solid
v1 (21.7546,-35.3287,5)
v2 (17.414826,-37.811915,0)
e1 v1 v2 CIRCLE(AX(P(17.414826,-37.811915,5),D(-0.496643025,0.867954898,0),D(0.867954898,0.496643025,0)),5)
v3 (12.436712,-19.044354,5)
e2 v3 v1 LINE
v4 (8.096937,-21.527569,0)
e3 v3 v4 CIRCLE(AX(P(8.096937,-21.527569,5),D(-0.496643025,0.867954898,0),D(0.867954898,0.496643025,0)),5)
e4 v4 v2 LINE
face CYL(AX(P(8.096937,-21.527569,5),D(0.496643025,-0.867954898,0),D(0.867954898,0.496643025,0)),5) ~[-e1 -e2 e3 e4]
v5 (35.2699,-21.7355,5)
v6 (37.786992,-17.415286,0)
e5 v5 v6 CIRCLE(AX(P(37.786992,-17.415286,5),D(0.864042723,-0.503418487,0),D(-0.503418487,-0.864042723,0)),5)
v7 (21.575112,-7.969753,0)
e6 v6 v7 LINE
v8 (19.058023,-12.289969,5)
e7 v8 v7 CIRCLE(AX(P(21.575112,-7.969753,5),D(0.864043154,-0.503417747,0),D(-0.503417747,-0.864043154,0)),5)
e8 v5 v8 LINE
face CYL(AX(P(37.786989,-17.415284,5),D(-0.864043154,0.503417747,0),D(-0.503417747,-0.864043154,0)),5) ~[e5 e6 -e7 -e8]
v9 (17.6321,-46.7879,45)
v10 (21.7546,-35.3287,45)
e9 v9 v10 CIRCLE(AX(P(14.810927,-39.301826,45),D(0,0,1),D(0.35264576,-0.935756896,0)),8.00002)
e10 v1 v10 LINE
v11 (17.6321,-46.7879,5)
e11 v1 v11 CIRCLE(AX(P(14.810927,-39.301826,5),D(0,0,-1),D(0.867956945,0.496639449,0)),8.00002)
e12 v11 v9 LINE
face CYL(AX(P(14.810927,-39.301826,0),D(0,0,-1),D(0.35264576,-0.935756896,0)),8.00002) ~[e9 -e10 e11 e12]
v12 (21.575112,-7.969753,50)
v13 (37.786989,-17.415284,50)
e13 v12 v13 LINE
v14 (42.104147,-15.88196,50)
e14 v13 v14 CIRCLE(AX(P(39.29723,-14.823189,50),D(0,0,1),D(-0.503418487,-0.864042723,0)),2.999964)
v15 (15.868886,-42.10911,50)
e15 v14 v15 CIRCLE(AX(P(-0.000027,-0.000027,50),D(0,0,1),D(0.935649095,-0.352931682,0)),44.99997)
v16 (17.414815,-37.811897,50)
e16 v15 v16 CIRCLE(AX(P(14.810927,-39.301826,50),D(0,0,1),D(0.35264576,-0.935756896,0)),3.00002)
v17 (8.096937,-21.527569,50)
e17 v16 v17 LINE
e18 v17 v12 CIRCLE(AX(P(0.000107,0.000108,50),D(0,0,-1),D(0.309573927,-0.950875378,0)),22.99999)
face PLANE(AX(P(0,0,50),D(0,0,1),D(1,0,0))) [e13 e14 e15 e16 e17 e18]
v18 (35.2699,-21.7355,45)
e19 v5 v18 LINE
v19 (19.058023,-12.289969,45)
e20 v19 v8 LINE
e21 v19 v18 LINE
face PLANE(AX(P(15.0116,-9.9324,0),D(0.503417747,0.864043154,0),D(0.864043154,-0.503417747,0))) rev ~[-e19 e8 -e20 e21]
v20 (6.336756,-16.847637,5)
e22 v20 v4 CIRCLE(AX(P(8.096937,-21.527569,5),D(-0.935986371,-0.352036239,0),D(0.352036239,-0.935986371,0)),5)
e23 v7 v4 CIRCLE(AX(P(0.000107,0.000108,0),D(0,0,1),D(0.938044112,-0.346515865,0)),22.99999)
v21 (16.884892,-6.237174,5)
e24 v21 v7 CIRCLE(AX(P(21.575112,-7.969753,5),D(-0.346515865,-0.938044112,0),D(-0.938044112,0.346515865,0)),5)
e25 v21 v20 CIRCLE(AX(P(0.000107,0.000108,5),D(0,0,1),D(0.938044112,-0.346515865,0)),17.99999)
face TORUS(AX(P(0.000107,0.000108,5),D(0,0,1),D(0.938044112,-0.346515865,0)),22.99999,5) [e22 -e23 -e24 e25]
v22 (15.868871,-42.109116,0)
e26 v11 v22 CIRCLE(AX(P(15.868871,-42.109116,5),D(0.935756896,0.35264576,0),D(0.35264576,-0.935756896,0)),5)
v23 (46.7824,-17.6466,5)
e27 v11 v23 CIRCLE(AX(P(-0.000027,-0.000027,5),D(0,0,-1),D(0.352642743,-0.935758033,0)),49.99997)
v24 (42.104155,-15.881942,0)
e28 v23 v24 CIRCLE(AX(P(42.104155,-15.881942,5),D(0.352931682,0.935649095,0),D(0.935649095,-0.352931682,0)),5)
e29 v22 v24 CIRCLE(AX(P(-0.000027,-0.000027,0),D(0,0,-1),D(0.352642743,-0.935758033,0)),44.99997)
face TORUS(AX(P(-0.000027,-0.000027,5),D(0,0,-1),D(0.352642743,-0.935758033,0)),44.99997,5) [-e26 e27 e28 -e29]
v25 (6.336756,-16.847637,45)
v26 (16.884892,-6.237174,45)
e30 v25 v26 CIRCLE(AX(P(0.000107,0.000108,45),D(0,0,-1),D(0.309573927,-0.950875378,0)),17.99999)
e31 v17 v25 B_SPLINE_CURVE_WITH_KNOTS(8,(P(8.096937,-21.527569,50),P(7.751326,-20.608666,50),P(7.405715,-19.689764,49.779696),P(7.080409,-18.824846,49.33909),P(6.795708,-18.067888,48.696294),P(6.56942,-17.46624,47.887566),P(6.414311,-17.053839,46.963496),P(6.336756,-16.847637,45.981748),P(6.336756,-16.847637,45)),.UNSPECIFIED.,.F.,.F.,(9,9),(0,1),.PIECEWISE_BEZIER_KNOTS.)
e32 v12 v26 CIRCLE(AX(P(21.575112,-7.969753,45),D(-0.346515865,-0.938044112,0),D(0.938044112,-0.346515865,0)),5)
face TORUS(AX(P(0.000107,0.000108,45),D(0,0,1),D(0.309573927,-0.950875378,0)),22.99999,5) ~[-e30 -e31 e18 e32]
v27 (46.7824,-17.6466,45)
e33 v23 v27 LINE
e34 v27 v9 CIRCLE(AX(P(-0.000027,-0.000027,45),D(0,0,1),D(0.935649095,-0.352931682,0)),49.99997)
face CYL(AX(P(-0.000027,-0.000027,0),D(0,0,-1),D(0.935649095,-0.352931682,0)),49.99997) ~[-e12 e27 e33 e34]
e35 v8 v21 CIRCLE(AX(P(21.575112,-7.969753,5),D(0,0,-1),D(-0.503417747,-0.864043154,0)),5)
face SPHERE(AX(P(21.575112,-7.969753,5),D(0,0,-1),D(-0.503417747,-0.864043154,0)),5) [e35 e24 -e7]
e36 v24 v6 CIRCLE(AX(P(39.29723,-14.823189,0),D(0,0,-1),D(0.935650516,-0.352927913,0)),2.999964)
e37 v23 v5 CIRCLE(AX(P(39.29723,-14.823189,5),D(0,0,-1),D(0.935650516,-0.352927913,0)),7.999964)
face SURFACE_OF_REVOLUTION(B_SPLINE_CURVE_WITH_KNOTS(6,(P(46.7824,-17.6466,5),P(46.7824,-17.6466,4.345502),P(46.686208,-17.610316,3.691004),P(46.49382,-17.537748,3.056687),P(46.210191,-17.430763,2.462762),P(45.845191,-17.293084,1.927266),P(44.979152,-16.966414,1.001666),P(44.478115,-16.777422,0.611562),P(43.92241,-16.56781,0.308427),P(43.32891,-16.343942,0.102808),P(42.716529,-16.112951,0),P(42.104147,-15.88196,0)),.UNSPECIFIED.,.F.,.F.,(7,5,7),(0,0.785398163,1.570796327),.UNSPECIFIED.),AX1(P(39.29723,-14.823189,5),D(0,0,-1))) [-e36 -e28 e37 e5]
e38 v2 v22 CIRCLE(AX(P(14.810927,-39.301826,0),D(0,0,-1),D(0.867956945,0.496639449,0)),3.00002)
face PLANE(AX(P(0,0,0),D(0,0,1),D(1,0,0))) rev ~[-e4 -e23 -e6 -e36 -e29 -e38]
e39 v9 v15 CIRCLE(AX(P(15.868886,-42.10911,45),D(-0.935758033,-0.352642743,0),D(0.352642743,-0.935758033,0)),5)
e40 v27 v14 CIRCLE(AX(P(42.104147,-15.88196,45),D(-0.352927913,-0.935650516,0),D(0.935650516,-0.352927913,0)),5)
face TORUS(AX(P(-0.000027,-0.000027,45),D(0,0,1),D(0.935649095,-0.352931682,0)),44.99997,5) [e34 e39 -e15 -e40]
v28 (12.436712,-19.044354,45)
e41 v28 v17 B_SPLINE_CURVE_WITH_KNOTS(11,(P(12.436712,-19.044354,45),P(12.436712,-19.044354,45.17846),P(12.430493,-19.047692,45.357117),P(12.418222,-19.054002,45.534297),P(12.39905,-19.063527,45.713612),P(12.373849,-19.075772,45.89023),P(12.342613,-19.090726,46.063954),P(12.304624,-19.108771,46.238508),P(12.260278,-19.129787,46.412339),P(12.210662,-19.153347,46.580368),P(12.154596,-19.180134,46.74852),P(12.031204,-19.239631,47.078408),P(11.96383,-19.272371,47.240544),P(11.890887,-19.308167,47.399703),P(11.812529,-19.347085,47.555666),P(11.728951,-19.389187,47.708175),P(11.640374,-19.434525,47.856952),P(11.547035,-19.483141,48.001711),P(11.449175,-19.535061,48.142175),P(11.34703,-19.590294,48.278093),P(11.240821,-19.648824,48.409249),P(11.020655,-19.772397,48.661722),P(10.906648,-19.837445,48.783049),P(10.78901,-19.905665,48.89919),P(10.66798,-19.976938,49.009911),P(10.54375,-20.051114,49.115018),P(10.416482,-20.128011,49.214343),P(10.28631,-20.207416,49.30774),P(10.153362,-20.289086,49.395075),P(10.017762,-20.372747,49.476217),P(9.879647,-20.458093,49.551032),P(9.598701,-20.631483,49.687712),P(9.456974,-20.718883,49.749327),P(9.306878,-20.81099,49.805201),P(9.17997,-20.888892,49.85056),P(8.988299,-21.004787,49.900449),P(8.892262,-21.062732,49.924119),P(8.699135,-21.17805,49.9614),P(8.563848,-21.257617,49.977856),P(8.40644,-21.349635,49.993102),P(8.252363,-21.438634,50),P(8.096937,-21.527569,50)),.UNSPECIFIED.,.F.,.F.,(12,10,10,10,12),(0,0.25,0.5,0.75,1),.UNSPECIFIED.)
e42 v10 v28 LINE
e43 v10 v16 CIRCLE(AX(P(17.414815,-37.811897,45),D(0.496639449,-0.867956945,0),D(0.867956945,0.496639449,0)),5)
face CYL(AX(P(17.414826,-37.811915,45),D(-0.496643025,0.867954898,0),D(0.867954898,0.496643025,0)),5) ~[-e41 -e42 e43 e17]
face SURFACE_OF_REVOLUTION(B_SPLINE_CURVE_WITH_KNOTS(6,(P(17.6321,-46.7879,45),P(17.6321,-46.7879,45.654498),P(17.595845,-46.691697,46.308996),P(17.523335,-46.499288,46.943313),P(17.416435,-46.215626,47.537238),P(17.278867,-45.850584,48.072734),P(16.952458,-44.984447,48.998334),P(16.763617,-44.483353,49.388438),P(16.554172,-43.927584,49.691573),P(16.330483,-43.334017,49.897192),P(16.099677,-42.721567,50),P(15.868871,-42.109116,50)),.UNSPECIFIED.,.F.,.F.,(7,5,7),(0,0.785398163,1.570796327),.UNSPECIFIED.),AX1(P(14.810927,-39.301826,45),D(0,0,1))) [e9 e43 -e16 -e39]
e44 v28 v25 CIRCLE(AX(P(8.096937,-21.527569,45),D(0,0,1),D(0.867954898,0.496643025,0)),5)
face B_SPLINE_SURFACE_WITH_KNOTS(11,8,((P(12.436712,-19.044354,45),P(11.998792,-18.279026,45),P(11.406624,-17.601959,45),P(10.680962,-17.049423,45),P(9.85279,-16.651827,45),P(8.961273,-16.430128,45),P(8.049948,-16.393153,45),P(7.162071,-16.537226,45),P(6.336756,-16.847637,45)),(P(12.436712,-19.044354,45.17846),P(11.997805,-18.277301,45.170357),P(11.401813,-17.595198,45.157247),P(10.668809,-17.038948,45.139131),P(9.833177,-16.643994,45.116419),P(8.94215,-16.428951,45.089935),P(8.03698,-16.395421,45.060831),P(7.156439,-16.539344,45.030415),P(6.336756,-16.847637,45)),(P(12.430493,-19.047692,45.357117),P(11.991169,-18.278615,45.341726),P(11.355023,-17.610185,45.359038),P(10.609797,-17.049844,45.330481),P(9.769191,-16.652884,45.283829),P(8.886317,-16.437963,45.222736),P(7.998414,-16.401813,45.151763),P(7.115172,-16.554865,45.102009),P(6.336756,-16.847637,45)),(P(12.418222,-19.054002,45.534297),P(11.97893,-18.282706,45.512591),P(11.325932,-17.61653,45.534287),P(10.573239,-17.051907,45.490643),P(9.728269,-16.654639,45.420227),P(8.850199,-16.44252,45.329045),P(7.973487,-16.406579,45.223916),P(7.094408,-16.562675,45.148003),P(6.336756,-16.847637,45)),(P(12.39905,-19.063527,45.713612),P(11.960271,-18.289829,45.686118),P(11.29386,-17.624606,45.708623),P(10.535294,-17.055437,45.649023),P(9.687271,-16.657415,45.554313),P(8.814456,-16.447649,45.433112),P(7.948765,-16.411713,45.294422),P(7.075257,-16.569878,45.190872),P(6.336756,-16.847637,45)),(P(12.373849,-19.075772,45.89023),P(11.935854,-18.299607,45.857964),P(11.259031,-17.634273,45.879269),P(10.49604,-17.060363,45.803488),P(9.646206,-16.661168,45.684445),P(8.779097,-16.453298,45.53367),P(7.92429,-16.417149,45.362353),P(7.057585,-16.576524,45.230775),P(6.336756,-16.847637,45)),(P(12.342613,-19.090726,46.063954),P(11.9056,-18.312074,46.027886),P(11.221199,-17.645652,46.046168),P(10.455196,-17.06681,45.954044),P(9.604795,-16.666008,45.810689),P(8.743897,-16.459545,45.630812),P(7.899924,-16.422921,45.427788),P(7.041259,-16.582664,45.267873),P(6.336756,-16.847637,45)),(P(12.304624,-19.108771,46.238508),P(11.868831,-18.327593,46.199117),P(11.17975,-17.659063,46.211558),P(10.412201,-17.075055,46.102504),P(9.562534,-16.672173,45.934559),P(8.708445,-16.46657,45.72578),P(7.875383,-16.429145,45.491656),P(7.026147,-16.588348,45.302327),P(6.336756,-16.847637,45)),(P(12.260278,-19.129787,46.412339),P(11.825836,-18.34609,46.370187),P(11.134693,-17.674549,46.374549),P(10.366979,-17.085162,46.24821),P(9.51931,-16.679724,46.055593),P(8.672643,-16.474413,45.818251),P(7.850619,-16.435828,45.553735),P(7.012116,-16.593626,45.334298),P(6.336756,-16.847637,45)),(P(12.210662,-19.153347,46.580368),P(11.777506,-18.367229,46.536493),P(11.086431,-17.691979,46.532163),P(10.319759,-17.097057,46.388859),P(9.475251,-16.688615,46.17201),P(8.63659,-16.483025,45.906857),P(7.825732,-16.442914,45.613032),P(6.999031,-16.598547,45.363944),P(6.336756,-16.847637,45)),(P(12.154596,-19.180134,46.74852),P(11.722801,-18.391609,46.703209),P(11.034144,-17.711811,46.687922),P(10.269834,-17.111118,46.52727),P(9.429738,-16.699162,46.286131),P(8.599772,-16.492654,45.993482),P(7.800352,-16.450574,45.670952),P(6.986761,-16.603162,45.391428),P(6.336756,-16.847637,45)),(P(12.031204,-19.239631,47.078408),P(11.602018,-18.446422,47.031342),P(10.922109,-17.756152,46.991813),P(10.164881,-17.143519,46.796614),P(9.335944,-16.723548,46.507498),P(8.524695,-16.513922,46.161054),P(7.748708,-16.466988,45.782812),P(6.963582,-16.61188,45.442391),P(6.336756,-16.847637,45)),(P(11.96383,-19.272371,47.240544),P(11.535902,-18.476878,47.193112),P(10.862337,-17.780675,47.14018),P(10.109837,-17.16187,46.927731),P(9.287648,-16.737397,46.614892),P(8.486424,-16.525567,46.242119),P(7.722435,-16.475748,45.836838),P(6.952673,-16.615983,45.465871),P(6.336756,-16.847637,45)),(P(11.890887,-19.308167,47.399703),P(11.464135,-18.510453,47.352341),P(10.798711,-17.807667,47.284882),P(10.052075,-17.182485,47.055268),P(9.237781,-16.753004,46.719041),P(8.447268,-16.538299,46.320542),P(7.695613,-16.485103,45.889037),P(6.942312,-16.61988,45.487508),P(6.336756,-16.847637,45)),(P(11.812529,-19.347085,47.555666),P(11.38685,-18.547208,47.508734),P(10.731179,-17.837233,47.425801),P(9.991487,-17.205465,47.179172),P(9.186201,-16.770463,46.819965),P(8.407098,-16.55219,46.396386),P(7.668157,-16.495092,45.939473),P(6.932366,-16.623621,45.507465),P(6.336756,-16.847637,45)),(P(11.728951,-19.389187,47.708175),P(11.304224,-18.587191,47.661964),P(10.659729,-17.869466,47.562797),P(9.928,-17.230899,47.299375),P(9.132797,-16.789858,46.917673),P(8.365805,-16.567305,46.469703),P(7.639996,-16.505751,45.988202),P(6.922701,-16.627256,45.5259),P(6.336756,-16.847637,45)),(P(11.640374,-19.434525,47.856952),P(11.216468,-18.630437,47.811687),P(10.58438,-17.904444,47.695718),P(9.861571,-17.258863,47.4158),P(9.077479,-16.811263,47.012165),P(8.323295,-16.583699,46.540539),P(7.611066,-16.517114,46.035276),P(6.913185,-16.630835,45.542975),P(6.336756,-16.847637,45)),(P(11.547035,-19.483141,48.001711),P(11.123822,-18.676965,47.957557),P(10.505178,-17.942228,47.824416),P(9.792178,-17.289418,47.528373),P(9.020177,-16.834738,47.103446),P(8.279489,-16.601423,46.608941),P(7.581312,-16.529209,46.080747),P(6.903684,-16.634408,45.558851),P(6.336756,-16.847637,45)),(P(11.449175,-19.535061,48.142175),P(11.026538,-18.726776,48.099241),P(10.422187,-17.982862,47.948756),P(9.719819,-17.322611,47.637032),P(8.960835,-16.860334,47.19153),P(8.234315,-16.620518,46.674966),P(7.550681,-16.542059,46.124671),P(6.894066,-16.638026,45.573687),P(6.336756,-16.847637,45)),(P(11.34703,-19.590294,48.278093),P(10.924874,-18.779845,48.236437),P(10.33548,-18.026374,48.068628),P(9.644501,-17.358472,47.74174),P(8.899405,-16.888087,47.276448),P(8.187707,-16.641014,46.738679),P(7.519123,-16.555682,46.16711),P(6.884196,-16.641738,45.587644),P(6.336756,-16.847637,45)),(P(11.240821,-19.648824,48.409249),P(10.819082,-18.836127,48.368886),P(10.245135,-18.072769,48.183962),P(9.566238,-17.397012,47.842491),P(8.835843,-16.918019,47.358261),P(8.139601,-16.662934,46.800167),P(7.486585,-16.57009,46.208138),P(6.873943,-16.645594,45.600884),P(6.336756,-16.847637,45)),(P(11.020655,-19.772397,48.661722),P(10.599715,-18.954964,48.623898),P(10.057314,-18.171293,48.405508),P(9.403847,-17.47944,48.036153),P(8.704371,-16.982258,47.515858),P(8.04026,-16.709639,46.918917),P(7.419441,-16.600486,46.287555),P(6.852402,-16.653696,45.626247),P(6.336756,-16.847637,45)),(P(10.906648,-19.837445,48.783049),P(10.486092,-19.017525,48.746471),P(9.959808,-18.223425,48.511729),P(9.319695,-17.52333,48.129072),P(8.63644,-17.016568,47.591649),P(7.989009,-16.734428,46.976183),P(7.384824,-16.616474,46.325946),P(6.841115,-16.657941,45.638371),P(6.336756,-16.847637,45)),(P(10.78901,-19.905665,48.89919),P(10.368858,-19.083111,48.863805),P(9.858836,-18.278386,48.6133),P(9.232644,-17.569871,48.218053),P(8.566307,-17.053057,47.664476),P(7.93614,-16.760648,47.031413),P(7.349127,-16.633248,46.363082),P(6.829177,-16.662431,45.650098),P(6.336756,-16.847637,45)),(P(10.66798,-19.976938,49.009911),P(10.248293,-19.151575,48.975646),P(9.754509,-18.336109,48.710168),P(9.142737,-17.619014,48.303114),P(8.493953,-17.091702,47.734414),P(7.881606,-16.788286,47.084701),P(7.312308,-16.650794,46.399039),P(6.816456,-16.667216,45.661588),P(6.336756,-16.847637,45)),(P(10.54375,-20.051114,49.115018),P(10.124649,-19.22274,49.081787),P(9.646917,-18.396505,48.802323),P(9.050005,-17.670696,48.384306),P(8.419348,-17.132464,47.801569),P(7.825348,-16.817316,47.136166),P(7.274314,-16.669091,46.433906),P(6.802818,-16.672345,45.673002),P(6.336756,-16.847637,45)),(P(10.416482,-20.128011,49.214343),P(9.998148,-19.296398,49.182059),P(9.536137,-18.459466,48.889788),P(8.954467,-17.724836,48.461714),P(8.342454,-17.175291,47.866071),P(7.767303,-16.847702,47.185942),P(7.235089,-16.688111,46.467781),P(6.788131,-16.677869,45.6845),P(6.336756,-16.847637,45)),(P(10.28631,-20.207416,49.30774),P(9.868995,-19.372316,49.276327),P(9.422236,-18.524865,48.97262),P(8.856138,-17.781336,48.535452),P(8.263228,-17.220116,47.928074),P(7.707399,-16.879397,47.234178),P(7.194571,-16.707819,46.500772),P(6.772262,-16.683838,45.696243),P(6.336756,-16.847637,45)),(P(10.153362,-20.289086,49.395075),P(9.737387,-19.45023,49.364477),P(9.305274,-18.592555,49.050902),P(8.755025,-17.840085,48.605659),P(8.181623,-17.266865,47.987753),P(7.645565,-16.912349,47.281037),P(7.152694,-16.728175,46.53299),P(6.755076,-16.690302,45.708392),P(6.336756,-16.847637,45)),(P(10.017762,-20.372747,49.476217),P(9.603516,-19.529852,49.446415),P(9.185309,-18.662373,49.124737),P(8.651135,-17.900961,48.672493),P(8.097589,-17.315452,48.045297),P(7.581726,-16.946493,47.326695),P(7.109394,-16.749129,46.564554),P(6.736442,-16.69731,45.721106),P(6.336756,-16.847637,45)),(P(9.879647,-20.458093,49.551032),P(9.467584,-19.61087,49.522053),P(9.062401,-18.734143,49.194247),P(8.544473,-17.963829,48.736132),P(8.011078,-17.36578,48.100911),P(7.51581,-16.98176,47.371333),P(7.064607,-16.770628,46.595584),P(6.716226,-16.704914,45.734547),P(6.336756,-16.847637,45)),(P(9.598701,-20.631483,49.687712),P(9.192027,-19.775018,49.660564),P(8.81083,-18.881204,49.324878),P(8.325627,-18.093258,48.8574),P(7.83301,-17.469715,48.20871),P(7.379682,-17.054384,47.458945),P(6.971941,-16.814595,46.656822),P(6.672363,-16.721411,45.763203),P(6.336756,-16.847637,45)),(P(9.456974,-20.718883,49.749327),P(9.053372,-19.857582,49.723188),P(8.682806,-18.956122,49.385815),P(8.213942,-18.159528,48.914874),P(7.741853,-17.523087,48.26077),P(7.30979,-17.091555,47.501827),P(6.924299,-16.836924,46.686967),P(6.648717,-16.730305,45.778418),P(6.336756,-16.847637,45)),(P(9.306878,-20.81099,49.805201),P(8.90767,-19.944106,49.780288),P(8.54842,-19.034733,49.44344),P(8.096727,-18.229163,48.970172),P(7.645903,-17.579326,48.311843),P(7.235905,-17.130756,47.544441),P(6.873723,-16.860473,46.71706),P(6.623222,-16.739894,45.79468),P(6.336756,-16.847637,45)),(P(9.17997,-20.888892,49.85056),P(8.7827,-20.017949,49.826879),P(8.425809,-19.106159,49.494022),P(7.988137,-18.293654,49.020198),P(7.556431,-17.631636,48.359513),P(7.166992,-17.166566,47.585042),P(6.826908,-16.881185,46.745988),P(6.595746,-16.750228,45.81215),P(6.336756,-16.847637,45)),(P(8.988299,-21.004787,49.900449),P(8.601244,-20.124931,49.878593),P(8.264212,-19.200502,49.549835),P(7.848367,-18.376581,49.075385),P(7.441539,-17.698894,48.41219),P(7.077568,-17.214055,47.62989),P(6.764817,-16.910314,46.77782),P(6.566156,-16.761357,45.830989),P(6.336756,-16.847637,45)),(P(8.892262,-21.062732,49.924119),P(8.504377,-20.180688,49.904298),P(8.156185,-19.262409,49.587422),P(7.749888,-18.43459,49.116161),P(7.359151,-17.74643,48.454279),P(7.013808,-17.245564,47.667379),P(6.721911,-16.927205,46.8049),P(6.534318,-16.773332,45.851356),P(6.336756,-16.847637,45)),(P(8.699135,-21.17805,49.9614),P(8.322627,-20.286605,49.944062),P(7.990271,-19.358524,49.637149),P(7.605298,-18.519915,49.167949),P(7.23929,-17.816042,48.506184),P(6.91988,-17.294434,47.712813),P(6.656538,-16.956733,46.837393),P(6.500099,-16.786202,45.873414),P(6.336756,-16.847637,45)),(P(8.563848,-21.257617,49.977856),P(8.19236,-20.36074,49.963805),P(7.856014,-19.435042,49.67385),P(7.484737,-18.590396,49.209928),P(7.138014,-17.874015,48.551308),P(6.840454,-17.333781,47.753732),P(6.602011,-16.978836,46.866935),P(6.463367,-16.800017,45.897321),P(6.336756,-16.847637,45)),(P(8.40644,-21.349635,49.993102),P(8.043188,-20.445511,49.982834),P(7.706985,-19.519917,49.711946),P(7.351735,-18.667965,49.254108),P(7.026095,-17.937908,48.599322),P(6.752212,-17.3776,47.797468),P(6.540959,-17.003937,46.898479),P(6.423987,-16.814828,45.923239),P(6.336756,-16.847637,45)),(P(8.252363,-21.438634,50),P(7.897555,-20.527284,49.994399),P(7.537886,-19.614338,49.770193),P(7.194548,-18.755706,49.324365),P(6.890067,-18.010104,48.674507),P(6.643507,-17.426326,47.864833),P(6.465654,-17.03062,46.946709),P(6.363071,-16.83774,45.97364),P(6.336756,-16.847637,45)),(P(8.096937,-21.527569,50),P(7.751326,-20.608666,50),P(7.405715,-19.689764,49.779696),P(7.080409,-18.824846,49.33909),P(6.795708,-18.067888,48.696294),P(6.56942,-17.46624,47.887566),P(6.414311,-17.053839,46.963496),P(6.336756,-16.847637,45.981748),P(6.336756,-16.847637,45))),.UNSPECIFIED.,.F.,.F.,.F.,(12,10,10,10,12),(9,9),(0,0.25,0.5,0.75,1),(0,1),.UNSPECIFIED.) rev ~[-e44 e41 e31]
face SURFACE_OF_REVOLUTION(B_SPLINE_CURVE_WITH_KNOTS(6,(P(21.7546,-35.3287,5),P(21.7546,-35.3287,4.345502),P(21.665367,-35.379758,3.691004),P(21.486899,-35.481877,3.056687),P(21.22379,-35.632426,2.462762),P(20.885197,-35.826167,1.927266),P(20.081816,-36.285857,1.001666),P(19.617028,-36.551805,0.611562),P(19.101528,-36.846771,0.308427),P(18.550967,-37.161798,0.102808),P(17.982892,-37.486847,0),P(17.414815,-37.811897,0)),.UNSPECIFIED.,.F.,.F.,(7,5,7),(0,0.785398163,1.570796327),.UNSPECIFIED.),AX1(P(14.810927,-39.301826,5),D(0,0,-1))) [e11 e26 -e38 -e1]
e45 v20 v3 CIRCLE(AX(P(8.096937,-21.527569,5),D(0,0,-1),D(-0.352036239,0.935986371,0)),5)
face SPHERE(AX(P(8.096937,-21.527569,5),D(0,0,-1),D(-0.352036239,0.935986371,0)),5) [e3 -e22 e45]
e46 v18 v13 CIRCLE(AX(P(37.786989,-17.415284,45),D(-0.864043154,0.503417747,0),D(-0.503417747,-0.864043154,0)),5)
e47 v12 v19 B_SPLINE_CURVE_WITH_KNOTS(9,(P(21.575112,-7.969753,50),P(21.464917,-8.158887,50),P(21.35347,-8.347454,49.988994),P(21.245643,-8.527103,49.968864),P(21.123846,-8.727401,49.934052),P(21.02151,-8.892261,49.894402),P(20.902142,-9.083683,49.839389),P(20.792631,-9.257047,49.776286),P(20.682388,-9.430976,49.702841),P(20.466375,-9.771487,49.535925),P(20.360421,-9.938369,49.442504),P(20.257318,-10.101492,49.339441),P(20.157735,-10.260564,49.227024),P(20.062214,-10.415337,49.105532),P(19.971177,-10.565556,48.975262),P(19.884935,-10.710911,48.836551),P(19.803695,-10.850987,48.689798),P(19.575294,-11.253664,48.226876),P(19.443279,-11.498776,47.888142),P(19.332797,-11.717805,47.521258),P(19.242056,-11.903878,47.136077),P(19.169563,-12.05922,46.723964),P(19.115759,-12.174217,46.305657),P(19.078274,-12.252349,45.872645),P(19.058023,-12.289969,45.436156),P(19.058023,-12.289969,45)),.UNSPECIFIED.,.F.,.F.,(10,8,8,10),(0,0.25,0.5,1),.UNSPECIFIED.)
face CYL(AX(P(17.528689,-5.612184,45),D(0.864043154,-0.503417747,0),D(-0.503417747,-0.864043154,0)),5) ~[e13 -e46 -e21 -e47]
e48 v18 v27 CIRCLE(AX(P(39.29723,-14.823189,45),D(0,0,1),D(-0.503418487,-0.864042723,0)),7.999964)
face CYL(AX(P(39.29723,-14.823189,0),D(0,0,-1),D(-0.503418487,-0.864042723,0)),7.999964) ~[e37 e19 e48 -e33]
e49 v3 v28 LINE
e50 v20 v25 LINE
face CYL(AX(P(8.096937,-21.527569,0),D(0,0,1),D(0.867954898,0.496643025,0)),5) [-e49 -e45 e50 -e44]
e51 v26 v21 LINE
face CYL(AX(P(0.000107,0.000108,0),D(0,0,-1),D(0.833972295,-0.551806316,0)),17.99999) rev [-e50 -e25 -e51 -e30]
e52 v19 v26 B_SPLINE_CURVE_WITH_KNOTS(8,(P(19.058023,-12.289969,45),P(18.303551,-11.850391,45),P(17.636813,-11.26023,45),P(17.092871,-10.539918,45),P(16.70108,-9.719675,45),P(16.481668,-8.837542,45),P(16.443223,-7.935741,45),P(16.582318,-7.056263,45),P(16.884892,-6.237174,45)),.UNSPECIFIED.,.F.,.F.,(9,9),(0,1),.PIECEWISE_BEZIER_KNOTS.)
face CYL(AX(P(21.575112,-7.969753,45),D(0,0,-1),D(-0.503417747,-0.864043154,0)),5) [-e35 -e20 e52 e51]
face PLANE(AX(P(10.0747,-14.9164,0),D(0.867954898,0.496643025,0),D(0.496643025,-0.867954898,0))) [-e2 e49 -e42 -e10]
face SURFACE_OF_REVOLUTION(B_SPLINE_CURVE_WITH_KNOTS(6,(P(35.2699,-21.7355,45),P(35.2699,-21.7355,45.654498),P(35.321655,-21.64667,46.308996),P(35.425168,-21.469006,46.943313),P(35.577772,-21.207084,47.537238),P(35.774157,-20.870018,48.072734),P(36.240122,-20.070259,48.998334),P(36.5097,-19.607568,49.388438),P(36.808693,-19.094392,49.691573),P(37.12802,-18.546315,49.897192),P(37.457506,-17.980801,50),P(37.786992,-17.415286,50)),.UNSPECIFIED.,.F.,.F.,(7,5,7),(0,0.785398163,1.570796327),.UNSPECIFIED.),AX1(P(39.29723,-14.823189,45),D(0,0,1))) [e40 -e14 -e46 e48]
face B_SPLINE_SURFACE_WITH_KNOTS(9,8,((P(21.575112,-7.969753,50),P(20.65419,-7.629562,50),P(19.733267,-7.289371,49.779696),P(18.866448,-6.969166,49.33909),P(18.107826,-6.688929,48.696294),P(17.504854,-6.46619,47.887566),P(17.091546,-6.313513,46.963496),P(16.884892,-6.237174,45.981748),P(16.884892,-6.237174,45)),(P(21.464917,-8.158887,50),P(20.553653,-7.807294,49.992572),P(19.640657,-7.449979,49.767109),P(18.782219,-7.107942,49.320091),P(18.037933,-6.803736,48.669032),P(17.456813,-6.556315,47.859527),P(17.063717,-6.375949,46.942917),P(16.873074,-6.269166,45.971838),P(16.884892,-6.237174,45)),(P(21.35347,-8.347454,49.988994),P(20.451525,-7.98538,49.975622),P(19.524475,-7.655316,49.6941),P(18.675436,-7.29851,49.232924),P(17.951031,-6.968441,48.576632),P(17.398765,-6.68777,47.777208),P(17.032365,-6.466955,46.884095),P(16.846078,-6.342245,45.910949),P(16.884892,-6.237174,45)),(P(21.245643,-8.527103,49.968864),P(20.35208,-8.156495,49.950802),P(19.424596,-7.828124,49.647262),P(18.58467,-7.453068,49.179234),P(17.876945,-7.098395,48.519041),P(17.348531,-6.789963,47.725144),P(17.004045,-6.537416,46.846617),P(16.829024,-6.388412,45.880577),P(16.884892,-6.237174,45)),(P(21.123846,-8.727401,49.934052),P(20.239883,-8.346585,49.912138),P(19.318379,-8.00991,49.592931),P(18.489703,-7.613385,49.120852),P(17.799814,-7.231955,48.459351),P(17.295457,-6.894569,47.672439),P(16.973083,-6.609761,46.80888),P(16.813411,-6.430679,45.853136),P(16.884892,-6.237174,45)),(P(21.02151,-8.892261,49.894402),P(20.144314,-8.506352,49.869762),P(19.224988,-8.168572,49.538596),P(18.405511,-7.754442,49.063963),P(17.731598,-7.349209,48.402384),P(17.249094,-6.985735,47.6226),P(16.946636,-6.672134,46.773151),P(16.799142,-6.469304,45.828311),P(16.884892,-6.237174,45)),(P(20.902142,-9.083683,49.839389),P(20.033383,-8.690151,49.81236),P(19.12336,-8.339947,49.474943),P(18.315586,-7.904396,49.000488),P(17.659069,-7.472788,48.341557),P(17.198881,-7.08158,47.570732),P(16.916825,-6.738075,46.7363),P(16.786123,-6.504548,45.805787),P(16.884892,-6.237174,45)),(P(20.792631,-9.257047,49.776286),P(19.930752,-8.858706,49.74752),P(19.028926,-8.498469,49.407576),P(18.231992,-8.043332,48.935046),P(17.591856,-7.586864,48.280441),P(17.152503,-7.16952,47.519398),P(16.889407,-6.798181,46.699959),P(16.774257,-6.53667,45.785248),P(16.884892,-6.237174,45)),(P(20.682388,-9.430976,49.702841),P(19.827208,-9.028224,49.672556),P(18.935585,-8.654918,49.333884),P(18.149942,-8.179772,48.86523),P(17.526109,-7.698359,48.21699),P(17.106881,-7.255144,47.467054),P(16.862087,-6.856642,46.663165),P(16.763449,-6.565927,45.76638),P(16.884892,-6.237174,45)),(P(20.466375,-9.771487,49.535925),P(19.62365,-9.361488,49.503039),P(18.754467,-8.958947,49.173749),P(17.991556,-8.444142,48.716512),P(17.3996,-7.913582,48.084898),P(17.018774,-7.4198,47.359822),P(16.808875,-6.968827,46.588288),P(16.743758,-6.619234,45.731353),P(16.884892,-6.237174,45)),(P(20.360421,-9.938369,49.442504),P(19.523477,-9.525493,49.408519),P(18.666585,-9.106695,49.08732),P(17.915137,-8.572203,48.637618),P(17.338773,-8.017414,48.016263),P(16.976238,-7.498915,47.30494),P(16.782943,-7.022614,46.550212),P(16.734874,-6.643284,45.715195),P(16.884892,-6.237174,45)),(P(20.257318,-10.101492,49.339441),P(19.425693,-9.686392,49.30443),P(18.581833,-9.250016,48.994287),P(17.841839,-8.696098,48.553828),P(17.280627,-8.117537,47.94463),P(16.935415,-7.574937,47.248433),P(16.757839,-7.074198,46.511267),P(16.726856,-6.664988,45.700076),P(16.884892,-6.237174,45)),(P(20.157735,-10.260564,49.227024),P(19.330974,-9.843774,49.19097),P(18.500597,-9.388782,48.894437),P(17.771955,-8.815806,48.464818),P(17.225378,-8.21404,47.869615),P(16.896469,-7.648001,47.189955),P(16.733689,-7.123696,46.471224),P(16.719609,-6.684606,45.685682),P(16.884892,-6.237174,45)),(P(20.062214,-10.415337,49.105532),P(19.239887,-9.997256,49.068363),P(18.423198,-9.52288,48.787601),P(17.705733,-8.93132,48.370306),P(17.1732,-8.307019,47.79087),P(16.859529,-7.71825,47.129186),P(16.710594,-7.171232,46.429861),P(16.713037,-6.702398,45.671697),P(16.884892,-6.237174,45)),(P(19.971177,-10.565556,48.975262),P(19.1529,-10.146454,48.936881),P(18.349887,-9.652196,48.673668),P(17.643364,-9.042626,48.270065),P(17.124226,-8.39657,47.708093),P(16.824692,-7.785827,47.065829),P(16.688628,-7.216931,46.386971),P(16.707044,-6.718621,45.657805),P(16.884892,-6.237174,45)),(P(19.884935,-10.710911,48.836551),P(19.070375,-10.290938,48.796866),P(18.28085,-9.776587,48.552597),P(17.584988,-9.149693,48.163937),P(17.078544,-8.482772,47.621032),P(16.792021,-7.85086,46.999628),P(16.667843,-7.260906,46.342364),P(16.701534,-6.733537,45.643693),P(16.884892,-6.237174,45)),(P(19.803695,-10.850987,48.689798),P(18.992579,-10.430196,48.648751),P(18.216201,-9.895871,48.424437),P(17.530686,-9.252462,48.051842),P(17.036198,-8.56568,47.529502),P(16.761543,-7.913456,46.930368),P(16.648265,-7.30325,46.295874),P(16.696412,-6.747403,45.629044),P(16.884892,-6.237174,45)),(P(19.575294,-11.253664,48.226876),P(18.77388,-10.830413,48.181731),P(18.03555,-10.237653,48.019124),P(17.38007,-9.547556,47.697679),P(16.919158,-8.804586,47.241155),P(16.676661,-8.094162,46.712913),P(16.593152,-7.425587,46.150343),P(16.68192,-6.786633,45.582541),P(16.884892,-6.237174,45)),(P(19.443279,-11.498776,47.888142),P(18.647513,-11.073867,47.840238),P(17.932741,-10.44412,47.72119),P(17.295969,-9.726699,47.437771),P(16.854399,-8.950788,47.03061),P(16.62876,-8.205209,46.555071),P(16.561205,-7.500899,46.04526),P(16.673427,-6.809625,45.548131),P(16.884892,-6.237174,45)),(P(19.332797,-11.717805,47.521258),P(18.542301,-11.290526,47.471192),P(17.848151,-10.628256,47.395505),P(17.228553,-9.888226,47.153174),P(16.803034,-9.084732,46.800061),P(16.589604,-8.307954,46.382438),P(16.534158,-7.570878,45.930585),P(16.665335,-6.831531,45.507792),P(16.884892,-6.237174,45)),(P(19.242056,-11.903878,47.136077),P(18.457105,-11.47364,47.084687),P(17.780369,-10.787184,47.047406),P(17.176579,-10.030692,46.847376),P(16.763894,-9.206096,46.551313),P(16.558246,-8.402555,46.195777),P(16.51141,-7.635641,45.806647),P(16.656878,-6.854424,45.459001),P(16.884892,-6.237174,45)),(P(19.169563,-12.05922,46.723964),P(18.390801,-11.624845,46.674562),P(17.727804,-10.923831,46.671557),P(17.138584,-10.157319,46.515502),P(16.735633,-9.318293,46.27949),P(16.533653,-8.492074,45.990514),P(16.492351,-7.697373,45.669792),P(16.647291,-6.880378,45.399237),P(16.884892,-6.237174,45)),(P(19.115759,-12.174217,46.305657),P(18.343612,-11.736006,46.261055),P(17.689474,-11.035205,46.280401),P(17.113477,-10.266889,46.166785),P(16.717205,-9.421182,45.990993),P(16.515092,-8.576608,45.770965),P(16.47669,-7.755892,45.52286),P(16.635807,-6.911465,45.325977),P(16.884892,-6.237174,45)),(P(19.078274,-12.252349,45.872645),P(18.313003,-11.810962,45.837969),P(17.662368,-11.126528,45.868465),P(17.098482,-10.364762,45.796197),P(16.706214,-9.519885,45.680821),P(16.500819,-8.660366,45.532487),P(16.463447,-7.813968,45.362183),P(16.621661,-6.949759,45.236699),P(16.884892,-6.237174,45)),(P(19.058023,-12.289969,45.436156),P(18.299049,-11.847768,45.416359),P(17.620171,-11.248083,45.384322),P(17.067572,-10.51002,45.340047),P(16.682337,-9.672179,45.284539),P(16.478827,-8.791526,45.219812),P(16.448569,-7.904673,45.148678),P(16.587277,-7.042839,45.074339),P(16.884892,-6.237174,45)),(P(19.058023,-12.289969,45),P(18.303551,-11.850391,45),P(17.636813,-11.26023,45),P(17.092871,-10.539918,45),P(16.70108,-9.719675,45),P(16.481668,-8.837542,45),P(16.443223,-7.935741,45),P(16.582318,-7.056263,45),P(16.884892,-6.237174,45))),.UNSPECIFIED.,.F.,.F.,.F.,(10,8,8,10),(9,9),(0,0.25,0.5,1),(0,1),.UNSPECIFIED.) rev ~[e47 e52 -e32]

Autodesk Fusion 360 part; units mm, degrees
sketch "草图1" plane through (0, 0, 0) normal (0, 0, 1) x (1, 0, 0)
  line L0 (10.0747, -14.9164) -> (21.7546, -35.3287)
  line L1 (15.0116, -9.9324) -> (35.2699, -21.7355)
  arc A0 (46.7824, -17.6466) -> (17.6321, -46.7879) centre (0, 0) ccw
  arc A1 (15.0116, -9.9324) -> (10.0747, -14.9164) centre (0, 0) ccw
  arc A2 (17.6321, -46.7879) -> (21.7546, -35.3287) centre (14.8109, -39.3019) ccw
  arc A3 (35.2699, -21.7355) -> (46.7824, -17.6466) centre (39.2972, -14.8232) ccw
  dimension "d1" = 100
  dimension "d2" = 36
  dimension "d3" = 8
extrude "拉伸1" add sketch "草图1" along normal blind 50
fillet "圆角1" radius 5 5 edges at (25.1407, -15.8339, 50) (41.9747, -22.3618, 50) (-35.3498, 35.3608, 50) (22.3386, -42.01, 50) (15.9146, -25.1226, 50)
fillet "圆角2" radius 5 5 edges at (10.0747, -14.9164, 22.5) (8.8197, -15.6912, 48.5451) (-12.7906, 12.6649, 50) (15.7752, -8.6685, 48.5475) (15.0116, -9.9324, 22.5)
fillet "圆角3" radius 5 8 edges at (17.0957, -27.1866, 0) (9.791, -16.8234, 0) (-12.7654, 12.6903, 0) (16.8692, -9.6593, 0) (27.1639, -17.0127, 0) (41.9747, -22.3618, 0) (-35.3498, 35.3608, 0) (22.3386, -42.01, 0)
